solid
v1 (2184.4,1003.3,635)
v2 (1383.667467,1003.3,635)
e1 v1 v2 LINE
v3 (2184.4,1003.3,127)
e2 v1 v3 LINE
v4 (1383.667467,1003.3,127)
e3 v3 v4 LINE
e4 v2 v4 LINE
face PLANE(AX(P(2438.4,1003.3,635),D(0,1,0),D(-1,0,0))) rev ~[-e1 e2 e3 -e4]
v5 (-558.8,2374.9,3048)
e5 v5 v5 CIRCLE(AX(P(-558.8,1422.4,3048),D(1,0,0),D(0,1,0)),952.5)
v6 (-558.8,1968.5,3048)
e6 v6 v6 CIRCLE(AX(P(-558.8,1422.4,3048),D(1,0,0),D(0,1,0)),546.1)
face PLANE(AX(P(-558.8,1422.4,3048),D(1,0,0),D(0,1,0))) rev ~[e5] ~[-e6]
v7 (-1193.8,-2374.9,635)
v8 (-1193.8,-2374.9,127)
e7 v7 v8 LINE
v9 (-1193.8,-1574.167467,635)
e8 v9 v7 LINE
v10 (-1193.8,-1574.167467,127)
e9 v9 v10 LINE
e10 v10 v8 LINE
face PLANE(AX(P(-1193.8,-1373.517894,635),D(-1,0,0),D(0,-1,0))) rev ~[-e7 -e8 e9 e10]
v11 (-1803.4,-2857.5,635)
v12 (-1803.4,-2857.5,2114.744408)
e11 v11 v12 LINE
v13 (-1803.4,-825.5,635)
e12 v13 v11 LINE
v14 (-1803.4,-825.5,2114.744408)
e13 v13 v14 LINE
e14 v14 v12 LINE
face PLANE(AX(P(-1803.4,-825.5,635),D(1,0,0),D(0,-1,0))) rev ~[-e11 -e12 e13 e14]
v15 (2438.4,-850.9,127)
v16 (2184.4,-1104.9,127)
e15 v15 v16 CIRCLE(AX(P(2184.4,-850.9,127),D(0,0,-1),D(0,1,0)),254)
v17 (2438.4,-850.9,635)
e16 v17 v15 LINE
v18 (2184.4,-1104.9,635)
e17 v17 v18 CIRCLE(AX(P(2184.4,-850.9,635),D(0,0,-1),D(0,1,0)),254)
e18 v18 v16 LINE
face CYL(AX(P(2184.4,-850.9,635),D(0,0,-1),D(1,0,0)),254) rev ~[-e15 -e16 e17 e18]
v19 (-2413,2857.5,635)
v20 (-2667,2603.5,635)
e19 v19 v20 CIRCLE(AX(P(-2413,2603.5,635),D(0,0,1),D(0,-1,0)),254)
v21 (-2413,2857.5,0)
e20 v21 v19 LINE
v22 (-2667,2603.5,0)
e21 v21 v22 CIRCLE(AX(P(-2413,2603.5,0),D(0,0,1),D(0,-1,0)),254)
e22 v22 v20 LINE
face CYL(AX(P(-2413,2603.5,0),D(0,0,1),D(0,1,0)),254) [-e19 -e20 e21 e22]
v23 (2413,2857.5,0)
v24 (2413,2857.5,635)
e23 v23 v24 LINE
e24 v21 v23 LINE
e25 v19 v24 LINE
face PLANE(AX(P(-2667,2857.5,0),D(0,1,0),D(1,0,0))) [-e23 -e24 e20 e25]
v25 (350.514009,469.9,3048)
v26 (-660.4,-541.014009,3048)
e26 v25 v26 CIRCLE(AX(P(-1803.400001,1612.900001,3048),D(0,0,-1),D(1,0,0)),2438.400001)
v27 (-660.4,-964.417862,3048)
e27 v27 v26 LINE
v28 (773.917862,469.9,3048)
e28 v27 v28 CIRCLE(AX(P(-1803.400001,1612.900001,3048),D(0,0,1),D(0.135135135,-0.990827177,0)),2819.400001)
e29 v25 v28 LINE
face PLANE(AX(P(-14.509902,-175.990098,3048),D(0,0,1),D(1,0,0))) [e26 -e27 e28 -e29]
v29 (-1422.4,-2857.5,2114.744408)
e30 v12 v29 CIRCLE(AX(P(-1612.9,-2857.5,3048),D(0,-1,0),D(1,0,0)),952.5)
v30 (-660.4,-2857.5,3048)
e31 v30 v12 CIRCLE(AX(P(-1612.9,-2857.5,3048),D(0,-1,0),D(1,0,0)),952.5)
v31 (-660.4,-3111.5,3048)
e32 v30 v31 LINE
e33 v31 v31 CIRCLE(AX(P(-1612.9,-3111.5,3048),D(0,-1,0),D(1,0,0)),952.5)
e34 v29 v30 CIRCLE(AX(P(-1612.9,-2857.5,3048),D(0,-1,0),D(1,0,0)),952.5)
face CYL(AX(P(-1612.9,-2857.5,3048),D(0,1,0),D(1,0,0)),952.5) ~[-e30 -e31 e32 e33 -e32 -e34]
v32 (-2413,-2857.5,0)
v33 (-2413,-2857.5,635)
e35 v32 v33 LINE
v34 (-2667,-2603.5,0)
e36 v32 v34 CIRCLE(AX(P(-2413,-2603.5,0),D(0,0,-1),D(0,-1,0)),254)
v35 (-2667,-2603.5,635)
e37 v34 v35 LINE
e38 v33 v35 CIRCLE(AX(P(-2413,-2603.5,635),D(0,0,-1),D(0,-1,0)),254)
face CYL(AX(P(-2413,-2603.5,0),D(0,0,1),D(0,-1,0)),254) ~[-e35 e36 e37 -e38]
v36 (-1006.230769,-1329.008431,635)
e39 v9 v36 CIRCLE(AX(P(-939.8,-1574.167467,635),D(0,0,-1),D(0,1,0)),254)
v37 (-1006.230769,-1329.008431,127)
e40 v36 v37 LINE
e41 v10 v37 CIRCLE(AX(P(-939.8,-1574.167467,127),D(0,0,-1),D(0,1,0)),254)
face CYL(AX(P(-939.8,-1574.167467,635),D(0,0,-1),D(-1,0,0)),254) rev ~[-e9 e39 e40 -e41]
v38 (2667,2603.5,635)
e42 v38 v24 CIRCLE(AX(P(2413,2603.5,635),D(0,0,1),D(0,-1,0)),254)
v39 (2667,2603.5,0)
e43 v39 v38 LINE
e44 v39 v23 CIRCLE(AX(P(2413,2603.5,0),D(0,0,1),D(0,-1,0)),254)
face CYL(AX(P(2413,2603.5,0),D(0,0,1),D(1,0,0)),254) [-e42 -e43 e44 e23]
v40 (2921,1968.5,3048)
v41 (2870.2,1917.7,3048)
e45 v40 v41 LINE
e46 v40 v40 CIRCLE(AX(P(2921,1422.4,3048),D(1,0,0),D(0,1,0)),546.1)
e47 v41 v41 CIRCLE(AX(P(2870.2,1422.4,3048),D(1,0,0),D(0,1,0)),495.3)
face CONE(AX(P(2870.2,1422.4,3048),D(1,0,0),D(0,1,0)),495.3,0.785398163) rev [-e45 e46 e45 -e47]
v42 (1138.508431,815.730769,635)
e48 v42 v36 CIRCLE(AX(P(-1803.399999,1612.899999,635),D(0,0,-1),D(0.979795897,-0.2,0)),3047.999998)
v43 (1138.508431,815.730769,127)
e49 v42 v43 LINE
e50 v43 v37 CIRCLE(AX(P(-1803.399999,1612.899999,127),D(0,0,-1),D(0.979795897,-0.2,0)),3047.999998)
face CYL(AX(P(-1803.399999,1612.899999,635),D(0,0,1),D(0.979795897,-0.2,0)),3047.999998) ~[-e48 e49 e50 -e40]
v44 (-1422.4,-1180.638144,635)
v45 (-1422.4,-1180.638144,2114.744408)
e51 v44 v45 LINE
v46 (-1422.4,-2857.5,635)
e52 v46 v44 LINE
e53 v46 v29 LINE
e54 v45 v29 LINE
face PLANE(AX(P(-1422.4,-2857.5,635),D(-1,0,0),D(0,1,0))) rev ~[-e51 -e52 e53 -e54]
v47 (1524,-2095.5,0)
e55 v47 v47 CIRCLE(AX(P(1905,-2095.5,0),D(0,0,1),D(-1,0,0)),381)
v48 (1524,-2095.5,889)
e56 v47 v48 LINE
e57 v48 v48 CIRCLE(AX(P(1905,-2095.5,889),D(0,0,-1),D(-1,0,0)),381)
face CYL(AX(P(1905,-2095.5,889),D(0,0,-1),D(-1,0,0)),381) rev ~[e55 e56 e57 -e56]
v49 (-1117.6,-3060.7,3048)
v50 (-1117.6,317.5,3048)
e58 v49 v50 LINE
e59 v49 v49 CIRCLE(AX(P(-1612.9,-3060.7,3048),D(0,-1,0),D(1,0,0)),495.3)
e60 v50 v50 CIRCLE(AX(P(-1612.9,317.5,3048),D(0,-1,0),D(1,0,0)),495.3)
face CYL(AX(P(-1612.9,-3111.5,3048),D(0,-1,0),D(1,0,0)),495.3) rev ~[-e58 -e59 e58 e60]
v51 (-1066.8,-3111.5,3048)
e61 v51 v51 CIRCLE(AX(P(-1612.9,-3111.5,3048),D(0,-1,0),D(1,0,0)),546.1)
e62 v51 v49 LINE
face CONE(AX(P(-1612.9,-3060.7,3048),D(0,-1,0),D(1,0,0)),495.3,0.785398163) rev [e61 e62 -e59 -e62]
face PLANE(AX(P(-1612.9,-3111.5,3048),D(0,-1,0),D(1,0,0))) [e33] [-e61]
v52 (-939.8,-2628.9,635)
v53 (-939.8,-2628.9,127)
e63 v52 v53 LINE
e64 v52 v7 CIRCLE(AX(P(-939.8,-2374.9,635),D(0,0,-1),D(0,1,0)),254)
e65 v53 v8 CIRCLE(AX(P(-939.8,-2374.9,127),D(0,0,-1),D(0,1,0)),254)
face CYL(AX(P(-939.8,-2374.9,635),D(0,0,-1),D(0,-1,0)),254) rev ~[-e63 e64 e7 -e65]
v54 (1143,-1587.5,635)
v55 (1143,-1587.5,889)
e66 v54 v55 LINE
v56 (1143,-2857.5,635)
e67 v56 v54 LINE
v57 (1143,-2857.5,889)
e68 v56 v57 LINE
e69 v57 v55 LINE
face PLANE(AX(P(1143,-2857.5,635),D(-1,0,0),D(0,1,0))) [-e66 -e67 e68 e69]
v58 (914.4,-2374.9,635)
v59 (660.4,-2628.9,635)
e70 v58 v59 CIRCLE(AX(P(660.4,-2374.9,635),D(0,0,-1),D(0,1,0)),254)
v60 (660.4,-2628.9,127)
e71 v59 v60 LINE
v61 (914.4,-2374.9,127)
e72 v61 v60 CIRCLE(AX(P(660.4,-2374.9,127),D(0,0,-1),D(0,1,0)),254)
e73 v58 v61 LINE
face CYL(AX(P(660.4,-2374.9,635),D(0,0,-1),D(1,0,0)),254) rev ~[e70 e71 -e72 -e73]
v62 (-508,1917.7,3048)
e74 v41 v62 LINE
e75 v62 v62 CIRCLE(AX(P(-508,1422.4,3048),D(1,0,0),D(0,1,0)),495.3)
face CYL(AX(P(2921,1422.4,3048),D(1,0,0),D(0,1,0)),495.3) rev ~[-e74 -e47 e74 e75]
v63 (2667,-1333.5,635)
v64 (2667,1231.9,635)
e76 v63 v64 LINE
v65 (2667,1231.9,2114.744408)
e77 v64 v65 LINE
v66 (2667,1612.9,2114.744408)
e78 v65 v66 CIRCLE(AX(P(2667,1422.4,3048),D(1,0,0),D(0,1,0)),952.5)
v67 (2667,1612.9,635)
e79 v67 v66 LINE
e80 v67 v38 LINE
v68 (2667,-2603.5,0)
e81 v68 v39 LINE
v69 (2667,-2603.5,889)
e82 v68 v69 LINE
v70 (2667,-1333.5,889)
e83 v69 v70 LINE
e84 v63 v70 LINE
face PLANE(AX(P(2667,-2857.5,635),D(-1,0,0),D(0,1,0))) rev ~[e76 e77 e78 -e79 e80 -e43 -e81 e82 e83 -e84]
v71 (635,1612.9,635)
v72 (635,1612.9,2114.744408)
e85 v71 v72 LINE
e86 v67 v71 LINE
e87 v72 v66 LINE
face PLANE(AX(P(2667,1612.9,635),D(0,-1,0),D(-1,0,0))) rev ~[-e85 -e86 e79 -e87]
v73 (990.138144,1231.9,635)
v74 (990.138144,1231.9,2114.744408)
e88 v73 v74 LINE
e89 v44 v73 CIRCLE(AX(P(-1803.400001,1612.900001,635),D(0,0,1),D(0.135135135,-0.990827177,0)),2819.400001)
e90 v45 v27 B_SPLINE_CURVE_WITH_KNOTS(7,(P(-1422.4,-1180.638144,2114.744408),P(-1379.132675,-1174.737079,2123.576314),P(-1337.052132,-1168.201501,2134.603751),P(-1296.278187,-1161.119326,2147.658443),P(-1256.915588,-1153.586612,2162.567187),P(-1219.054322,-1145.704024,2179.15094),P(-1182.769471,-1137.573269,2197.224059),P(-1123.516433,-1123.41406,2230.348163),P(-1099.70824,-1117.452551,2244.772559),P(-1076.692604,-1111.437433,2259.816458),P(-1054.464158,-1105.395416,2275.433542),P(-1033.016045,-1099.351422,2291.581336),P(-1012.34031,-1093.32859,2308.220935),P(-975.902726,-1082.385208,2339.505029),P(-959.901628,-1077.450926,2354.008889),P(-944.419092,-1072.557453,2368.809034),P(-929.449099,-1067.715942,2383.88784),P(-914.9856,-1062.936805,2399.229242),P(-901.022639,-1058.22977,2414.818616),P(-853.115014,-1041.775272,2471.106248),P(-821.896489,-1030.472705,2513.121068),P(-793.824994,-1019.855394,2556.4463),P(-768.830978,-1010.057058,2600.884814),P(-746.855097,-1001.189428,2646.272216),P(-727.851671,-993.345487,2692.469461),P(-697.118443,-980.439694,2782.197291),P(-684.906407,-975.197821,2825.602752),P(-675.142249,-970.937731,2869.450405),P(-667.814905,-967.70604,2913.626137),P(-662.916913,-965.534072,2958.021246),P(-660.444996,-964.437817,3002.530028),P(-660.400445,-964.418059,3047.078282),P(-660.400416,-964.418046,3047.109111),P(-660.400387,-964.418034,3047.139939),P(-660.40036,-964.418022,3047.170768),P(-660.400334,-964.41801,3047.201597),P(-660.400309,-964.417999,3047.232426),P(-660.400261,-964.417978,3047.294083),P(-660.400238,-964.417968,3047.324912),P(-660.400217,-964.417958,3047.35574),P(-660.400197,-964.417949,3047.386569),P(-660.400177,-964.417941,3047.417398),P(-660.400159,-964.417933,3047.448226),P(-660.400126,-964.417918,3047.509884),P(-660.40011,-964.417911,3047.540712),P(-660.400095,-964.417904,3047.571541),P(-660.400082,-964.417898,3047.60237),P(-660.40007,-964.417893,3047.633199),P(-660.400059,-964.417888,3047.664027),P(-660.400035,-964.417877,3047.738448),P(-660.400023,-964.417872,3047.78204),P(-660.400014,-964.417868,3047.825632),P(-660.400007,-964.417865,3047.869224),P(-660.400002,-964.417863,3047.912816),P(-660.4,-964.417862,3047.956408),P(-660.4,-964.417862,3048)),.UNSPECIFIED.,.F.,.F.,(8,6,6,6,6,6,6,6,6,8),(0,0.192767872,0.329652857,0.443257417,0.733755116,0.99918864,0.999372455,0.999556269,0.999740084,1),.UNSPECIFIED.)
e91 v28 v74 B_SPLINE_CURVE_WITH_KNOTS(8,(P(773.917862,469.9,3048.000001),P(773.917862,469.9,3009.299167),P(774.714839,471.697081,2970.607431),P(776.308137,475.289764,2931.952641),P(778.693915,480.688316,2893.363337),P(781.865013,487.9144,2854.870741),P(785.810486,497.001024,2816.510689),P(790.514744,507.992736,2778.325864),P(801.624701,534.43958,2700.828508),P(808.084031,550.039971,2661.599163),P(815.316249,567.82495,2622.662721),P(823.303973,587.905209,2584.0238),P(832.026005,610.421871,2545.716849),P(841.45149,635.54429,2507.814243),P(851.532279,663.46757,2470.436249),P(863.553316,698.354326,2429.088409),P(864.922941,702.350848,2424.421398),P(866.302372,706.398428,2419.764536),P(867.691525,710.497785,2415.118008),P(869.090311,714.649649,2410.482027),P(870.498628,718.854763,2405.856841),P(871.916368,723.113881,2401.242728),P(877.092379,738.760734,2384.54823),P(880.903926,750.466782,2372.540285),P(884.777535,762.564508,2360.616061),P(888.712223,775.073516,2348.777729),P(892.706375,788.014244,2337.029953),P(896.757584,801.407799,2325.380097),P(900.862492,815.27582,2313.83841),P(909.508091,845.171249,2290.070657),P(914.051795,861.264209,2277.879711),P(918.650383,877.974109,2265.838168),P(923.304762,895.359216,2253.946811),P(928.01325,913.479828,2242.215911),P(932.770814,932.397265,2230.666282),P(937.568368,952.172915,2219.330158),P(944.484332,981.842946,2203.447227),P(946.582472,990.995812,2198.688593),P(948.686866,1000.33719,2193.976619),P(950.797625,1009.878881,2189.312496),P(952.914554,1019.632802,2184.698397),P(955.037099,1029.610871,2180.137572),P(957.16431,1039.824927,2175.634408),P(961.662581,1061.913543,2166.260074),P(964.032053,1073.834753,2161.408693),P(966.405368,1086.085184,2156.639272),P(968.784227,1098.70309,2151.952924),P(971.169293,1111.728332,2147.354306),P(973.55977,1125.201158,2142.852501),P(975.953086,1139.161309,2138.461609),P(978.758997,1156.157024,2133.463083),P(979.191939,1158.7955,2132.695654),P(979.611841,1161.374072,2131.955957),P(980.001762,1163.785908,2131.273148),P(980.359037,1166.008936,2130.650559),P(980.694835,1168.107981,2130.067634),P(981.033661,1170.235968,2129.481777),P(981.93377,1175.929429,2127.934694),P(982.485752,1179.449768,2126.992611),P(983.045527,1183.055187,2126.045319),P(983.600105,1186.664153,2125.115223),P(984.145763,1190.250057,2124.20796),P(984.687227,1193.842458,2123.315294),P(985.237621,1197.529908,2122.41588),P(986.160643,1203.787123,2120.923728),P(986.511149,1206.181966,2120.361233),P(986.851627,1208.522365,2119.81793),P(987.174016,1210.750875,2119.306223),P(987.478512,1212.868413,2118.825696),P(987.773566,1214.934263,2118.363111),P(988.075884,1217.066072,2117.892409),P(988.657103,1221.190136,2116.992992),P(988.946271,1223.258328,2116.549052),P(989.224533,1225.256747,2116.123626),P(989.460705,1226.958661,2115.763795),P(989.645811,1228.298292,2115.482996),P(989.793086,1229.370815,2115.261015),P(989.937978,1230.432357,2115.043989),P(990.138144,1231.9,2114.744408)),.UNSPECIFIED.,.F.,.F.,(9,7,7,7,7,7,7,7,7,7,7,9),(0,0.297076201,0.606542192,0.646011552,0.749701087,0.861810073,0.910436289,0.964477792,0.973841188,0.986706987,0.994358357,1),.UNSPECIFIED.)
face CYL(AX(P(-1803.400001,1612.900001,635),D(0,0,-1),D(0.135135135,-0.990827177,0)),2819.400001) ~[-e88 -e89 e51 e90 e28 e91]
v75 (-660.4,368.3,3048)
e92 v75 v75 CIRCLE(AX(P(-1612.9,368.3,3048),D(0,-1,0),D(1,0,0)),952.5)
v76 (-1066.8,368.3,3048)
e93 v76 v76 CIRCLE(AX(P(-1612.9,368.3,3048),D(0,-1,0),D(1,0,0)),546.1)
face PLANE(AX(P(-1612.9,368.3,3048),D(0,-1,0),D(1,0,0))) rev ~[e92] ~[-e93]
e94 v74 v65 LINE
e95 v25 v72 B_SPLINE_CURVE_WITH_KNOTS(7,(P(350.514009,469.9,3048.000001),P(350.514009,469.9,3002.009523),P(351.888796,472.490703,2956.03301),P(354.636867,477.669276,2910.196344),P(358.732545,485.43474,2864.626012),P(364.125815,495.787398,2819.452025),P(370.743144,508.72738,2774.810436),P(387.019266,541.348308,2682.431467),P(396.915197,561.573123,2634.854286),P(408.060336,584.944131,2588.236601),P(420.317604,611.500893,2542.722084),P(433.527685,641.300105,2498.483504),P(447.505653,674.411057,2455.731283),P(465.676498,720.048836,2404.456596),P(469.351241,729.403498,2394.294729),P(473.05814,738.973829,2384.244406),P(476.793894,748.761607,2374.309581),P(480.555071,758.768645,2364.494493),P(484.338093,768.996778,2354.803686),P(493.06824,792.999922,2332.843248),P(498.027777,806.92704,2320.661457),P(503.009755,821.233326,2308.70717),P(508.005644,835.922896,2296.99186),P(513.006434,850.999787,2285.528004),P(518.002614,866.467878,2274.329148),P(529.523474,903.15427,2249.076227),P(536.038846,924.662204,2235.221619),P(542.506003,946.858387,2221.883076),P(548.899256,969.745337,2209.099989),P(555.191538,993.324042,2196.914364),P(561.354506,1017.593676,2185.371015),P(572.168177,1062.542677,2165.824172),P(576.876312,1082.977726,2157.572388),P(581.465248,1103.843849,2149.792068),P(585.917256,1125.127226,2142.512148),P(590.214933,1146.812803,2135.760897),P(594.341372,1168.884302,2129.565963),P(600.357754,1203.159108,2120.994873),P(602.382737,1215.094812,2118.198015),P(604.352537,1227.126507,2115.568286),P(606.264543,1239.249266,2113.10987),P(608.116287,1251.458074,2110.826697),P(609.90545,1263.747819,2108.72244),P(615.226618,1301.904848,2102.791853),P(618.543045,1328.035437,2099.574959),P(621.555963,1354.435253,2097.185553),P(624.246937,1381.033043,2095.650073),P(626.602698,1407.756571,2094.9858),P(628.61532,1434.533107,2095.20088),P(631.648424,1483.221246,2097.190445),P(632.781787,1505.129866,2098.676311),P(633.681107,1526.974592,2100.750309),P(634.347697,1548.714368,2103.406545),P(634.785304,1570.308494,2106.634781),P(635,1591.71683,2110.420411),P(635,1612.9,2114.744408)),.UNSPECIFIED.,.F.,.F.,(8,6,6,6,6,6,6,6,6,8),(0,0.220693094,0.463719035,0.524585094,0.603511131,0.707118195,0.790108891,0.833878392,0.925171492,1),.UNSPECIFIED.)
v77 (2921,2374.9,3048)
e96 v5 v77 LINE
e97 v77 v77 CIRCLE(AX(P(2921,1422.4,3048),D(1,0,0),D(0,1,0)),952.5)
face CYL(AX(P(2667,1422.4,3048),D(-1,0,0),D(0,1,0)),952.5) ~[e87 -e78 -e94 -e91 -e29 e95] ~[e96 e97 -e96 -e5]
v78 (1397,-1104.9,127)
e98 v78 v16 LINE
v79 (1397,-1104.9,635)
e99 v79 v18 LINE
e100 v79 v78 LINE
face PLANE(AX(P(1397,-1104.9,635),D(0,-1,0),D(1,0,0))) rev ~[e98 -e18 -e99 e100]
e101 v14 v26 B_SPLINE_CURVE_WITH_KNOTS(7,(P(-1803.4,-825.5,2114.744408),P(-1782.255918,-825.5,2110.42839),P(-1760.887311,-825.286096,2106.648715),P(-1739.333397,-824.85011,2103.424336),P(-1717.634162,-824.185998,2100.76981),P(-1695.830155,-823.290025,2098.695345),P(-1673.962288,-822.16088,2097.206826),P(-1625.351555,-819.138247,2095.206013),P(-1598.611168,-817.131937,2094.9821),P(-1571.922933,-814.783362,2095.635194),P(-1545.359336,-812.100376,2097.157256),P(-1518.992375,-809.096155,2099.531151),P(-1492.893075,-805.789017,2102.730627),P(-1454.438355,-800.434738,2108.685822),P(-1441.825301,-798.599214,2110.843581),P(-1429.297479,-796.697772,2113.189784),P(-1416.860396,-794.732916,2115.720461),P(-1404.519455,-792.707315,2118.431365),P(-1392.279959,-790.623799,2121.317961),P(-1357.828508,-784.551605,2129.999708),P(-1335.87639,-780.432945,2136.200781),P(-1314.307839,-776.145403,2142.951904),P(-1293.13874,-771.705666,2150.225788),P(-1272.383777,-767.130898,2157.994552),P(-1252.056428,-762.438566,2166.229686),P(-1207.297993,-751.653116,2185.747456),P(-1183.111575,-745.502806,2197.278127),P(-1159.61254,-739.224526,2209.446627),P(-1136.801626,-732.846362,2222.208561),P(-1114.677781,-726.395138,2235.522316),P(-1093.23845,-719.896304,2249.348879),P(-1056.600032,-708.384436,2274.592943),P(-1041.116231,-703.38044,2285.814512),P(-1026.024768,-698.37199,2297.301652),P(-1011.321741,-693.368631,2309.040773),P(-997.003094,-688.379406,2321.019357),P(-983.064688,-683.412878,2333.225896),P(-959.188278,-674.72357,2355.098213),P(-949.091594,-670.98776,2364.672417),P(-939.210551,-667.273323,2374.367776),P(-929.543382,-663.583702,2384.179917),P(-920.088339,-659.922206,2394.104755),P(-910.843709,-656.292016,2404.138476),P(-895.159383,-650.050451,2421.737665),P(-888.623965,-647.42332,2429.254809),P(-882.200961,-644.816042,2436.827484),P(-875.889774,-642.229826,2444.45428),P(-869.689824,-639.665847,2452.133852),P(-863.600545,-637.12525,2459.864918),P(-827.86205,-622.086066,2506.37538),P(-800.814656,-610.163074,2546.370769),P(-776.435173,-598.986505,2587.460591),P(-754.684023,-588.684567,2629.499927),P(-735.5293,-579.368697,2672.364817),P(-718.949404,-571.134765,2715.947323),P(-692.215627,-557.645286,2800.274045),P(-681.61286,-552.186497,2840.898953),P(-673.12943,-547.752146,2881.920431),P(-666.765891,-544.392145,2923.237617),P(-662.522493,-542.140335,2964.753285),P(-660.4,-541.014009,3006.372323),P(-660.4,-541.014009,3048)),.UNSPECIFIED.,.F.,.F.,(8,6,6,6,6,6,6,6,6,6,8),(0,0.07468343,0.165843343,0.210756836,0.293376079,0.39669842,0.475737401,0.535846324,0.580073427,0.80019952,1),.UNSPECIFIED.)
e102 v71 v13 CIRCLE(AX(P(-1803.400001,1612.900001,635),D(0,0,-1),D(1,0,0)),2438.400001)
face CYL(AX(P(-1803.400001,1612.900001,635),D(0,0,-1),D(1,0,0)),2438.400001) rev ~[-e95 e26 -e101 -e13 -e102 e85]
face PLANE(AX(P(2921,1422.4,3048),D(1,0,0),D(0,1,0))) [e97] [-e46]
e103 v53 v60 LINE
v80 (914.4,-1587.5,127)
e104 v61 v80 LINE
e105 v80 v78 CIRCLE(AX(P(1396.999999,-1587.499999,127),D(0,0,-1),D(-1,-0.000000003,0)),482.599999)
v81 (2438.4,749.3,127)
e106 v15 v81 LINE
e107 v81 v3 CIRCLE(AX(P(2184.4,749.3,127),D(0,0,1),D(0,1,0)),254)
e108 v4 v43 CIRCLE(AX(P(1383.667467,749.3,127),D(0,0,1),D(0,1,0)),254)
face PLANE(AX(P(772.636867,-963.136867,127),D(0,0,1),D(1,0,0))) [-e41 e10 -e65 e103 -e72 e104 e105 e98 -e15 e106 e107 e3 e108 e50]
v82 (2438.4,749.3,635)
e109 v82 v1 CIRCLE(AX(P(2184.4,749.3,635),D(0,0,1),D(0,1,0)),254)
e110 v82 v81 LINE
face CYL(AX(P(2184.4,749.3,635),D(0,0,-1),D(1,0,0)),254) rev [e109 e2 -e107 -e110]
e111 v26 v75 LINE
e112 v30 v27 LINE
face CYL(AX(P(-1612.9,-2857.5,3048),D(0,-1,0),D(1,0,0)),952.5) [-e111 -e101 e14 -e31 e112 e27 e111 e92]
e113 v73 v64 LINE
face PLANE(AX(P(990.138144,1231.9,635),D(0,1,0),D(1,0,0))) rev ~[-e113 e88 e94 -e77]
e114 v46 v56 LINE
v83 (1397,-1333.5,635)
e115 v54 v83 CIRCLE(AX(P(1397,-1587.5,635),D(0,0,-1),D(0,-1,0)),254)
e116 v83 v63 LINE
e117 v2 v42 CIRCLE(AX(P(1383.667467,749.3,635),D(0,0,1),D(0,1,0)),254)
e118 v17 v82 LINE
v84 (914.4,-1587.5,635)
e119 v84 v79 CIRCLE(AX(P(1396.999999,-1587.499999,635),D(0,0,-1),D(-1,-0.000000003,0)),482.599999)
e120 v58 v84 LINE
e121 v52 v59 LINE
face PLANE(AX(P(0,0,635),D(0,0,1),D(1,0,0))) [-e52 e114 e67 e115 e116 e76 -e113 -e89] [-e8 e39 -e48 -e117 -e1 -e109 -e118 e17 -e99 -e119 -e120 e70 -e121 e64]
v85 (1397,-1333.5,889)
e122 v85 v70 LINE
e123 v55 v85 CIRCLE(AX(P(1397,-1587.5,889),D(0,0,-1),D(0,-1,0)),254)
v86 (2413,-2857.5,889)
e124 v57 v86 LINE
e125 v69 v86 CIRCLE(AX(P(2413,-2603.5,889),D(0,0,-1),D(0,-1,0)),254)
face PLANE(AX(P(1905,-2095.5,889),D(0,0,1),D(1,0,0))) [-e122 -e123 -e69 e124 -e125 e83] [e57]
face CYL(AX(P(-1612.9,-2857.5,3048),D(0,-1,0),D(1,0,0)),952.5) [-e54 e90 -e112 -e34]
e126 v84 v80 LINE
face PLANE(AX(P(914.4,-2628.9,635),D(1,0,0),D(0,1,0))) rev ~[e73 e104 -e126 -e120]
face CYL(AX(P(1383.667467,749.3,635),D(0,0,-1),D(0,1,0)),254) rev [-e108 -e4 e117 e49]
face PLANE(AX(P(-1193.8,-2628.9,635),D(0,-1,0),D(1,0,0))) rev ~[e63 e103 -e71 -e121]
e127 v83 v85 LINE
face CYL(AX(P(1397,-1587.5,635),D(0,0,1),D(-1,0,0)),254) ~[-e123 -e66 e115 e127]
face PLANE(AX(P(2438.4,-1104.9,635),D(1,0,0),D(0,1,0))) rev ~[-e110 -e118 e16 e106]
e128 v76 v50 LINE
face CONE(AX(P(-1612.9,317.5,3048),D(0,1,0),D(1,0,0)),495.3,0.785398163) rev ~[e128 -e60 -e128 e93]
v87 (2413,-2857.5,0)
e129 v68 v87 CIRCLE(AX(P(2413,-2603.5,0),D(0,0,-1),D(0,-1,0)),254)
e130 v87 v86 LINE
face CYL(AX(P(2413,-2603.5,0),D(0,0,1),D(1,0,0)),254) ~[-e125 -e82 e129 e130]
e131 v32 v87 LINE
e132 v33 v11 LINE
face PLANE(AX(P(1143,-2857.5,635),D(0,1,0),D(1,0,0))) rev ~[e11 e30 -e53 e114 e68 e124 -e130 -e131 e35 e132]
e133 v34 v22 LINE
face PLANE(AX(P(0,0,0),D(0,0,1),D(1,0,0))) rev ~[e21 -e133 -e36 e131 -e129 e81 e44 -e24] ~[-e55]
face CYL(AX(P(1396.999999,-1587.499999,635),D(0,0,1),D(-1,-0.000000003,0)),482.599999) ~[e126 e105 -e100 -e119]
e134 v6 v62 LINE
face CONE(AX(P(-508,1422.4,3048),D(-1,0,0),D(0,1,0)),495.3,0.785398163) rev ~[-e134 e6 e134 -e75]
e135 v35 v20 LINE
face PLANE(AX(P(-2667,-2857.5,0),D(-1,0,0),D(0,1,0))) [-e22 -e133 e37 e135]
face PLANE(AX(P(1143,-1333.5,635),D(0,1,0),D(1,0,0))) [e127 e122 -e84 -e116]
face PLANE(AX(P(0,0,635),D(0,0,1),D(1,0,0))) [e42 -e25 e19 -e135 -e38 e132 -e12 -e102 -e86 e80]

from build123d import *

# Parameters (mm, degrees)
F0_W            = 5334
F0_H            = 5715
F1_DEPTH        = 635
F3_DEPTH        = 2413
F4_R            = 952.5
F5_DEPTH        = 254
F5_DEPTH_BACK   = 3225.8
F6_R            = 952.5
F7_DEPTH        = 254
F7_DEPTH_BACK   = 3225.8
F8_W            = 1524
F8_H            = 1524
F9_DEPTH        = 254
F10_R           = 254
F12_DEPTH       = 508
F14_D           = 762
F14_CBORE_D     = 762
F14_CBORE_DEPTH = 254
F15_R           = 254
F16_R           = 254
F17_R           = 495.3
F18_DEPTH       = 5969.001
F19_R           = 495.3
F20_DEPTH       = 5588.001
F21_SIZE        = 50.8
F22_R           = 254


with BuildPart() as f1:
    # F0 (on Top) → F1 (new body)
    with BuildSketch(Plane.XY):
        Rectangle(F0_W, F0_H)
    extrude(amount=F1_DEPTH)

    # F2 (on face) → F3 (join)
    with BuildSketch(Plane.XY.offset(635)):
        with BuildLine():
            Line((-1803.4, -825.5), (-1803.4, -2857.5))
            Line((-1803.4, -2857.5), (-1422.4, -2857.5))
            Line((-1422.4, -2857.5), (-1422.4, -1180.638144))
            ThreePointArc((-1422.4, -1180.638144), (190.216859, -380.716859), (990.138144, 1231.9))
            Line((990.138144, 1231.9), (2667, 1231.9))
            Line((2667, 1231.9), (2667, 1612.9))
            Line((2667, 1612.9), (635, 1612.9))
            ThreePointArc((635, 1612.9), (-79.190825, -111.309175), (-1803.4, -825.5))
        make_face()
    extrude(amount=F3_DEPTH)

    # F4 (on face) → F5 (join, two sides)
    with BuildSketch(Plane.XZ.offset(2857.5)) as f5_sk:
        with Locations((-1612.9, 3048)):
            Circle(F4_R)
    extrude(amount=F5_DEPTH)
    extrude(f5_sk.sketch, amount=-F5_DEPTH_BACK)

    # F6 (on face) → F7 (join, two sides)
    with BuildSketch(Plane.YZ.offset(2667)) as f7_sk:
        with Locations((1422.4, 3048)):
            Circle(F6_R)
    extrude(amount=F7_DEPTH)
    extrude(f7_sk.sketch, amount=-F7_DEPTH_BACK)

    # F8 (on face) → F9 (join)
    with BuildSketch(Plane.XY.offset(635)):
        with Locations((1905, -2095.5)):
            Rectangle(F8_W, F8_H)
    extrude(amount=F9_DEPTH)

    # F10
    f10_edges = [f1.edges().sort_by_distance(p)[0] for p in [
        (1143, -1333.5, 762),
    ]]
    fillet(f10_edges, radius=F10_R)

    # F11 (on face) → F12 (cut)
    with BuildSketch(Plane.XY.offset(635)):
        with BuildLine():
            ThreePointArc((1183.017894, 1003.3), (351.861469, -542.361469), (-1193.8, -1373.517894))
            Line((-1193.8, -1373.517894), (-1193.8, -2628.9))
            Line((-1193.8, -2628.9), (914.4, -2628.9))
            Line((914.4, -2628.9), (914.4, -1587.5))
            ThreePointArc((914.4, -1587.5), (1055.750267, -1246.250267), (1397, -1104.9))
            Line((1397, -1104.9), (2438.4, -1104.9))
            Line((2438.4, -1104.9), (2438.4, 1003.3))
            Line((2438.4, 1003.3), (1183.017894, 1003.3))
        make_face()
    extrude(amount=-F12_DEPTH, mode=Mode.SUBTRACT)

    # F14 (through all)
    with Locations(Plane.XY.offset(889)):
        with Locations((1905, -2095.5)):
            CounterBoreHole(F14_D / 2, F14_CBORE_D / 2, F14_CBORE_DEPTH)

    # F15
    f15_edges = [f1.edges().sort_by_distance(p)[0] for p in [
        (-1193.8, -1373.517894, 381),
        (1183.017894, 1003.3, 381),
        (-1193.8, -2628.9, 381),
        (2438.4, -1104.9, 381),
        (914.4, -2628.9, 381),
    ]]
    fillet(f15_edges, radius=F15_R)

    # F16
    f16_edges = [f1.edges().sort_by_distance(p)[0] for p in [
        (2438.4, 1003.3, 381),
    ]]
    fillet(f16_edges, radius=F16_R)

    # F17 (on face) → F18 (cut, through all)
    with BuildSketch(Plane.XZ.offset(3111.5)):
        with Locations((-1612.9, 3048)):
            Circle(F17_R)
    extrude(amount=-F18_DEPTH, mode=Mode.SUBTRACT)

    # F19 (on face) → F20 (cut, through all)
    with BuildSketch(Plane.YZ.offset(2921)):
        with Locations((1422.4, 3048)):
            Circle(F19_R)
    extrude(amount=-F20_DEPTH, mode=Mode.SUBTRACT)

    # F21
    f21_edges = [f1.edges().sort_by_distance(p)[0] for p in [
        (-2108.2, -3111.5, 3048),
        (2921, 927.1, 3048),
        (-2108.2, 368.3, 3048),
        (-558.8, 927.1, 3048),
    ]]
    chamfer(f21_edges, length=F21_SIZE)

    # F22
    f22_edges = [f1.edges().sort_by_distance(p)[0] for p in [
        (-2667, -2857.5, 317.5),
        (2667, -2857.5, 444.5),
        (2667, 2857.5, 317.5),
        (-2667, 2857.5, 317.5),
    ]]
    fillet(f22_edges, radius=F22_R)


solid = f1.part
